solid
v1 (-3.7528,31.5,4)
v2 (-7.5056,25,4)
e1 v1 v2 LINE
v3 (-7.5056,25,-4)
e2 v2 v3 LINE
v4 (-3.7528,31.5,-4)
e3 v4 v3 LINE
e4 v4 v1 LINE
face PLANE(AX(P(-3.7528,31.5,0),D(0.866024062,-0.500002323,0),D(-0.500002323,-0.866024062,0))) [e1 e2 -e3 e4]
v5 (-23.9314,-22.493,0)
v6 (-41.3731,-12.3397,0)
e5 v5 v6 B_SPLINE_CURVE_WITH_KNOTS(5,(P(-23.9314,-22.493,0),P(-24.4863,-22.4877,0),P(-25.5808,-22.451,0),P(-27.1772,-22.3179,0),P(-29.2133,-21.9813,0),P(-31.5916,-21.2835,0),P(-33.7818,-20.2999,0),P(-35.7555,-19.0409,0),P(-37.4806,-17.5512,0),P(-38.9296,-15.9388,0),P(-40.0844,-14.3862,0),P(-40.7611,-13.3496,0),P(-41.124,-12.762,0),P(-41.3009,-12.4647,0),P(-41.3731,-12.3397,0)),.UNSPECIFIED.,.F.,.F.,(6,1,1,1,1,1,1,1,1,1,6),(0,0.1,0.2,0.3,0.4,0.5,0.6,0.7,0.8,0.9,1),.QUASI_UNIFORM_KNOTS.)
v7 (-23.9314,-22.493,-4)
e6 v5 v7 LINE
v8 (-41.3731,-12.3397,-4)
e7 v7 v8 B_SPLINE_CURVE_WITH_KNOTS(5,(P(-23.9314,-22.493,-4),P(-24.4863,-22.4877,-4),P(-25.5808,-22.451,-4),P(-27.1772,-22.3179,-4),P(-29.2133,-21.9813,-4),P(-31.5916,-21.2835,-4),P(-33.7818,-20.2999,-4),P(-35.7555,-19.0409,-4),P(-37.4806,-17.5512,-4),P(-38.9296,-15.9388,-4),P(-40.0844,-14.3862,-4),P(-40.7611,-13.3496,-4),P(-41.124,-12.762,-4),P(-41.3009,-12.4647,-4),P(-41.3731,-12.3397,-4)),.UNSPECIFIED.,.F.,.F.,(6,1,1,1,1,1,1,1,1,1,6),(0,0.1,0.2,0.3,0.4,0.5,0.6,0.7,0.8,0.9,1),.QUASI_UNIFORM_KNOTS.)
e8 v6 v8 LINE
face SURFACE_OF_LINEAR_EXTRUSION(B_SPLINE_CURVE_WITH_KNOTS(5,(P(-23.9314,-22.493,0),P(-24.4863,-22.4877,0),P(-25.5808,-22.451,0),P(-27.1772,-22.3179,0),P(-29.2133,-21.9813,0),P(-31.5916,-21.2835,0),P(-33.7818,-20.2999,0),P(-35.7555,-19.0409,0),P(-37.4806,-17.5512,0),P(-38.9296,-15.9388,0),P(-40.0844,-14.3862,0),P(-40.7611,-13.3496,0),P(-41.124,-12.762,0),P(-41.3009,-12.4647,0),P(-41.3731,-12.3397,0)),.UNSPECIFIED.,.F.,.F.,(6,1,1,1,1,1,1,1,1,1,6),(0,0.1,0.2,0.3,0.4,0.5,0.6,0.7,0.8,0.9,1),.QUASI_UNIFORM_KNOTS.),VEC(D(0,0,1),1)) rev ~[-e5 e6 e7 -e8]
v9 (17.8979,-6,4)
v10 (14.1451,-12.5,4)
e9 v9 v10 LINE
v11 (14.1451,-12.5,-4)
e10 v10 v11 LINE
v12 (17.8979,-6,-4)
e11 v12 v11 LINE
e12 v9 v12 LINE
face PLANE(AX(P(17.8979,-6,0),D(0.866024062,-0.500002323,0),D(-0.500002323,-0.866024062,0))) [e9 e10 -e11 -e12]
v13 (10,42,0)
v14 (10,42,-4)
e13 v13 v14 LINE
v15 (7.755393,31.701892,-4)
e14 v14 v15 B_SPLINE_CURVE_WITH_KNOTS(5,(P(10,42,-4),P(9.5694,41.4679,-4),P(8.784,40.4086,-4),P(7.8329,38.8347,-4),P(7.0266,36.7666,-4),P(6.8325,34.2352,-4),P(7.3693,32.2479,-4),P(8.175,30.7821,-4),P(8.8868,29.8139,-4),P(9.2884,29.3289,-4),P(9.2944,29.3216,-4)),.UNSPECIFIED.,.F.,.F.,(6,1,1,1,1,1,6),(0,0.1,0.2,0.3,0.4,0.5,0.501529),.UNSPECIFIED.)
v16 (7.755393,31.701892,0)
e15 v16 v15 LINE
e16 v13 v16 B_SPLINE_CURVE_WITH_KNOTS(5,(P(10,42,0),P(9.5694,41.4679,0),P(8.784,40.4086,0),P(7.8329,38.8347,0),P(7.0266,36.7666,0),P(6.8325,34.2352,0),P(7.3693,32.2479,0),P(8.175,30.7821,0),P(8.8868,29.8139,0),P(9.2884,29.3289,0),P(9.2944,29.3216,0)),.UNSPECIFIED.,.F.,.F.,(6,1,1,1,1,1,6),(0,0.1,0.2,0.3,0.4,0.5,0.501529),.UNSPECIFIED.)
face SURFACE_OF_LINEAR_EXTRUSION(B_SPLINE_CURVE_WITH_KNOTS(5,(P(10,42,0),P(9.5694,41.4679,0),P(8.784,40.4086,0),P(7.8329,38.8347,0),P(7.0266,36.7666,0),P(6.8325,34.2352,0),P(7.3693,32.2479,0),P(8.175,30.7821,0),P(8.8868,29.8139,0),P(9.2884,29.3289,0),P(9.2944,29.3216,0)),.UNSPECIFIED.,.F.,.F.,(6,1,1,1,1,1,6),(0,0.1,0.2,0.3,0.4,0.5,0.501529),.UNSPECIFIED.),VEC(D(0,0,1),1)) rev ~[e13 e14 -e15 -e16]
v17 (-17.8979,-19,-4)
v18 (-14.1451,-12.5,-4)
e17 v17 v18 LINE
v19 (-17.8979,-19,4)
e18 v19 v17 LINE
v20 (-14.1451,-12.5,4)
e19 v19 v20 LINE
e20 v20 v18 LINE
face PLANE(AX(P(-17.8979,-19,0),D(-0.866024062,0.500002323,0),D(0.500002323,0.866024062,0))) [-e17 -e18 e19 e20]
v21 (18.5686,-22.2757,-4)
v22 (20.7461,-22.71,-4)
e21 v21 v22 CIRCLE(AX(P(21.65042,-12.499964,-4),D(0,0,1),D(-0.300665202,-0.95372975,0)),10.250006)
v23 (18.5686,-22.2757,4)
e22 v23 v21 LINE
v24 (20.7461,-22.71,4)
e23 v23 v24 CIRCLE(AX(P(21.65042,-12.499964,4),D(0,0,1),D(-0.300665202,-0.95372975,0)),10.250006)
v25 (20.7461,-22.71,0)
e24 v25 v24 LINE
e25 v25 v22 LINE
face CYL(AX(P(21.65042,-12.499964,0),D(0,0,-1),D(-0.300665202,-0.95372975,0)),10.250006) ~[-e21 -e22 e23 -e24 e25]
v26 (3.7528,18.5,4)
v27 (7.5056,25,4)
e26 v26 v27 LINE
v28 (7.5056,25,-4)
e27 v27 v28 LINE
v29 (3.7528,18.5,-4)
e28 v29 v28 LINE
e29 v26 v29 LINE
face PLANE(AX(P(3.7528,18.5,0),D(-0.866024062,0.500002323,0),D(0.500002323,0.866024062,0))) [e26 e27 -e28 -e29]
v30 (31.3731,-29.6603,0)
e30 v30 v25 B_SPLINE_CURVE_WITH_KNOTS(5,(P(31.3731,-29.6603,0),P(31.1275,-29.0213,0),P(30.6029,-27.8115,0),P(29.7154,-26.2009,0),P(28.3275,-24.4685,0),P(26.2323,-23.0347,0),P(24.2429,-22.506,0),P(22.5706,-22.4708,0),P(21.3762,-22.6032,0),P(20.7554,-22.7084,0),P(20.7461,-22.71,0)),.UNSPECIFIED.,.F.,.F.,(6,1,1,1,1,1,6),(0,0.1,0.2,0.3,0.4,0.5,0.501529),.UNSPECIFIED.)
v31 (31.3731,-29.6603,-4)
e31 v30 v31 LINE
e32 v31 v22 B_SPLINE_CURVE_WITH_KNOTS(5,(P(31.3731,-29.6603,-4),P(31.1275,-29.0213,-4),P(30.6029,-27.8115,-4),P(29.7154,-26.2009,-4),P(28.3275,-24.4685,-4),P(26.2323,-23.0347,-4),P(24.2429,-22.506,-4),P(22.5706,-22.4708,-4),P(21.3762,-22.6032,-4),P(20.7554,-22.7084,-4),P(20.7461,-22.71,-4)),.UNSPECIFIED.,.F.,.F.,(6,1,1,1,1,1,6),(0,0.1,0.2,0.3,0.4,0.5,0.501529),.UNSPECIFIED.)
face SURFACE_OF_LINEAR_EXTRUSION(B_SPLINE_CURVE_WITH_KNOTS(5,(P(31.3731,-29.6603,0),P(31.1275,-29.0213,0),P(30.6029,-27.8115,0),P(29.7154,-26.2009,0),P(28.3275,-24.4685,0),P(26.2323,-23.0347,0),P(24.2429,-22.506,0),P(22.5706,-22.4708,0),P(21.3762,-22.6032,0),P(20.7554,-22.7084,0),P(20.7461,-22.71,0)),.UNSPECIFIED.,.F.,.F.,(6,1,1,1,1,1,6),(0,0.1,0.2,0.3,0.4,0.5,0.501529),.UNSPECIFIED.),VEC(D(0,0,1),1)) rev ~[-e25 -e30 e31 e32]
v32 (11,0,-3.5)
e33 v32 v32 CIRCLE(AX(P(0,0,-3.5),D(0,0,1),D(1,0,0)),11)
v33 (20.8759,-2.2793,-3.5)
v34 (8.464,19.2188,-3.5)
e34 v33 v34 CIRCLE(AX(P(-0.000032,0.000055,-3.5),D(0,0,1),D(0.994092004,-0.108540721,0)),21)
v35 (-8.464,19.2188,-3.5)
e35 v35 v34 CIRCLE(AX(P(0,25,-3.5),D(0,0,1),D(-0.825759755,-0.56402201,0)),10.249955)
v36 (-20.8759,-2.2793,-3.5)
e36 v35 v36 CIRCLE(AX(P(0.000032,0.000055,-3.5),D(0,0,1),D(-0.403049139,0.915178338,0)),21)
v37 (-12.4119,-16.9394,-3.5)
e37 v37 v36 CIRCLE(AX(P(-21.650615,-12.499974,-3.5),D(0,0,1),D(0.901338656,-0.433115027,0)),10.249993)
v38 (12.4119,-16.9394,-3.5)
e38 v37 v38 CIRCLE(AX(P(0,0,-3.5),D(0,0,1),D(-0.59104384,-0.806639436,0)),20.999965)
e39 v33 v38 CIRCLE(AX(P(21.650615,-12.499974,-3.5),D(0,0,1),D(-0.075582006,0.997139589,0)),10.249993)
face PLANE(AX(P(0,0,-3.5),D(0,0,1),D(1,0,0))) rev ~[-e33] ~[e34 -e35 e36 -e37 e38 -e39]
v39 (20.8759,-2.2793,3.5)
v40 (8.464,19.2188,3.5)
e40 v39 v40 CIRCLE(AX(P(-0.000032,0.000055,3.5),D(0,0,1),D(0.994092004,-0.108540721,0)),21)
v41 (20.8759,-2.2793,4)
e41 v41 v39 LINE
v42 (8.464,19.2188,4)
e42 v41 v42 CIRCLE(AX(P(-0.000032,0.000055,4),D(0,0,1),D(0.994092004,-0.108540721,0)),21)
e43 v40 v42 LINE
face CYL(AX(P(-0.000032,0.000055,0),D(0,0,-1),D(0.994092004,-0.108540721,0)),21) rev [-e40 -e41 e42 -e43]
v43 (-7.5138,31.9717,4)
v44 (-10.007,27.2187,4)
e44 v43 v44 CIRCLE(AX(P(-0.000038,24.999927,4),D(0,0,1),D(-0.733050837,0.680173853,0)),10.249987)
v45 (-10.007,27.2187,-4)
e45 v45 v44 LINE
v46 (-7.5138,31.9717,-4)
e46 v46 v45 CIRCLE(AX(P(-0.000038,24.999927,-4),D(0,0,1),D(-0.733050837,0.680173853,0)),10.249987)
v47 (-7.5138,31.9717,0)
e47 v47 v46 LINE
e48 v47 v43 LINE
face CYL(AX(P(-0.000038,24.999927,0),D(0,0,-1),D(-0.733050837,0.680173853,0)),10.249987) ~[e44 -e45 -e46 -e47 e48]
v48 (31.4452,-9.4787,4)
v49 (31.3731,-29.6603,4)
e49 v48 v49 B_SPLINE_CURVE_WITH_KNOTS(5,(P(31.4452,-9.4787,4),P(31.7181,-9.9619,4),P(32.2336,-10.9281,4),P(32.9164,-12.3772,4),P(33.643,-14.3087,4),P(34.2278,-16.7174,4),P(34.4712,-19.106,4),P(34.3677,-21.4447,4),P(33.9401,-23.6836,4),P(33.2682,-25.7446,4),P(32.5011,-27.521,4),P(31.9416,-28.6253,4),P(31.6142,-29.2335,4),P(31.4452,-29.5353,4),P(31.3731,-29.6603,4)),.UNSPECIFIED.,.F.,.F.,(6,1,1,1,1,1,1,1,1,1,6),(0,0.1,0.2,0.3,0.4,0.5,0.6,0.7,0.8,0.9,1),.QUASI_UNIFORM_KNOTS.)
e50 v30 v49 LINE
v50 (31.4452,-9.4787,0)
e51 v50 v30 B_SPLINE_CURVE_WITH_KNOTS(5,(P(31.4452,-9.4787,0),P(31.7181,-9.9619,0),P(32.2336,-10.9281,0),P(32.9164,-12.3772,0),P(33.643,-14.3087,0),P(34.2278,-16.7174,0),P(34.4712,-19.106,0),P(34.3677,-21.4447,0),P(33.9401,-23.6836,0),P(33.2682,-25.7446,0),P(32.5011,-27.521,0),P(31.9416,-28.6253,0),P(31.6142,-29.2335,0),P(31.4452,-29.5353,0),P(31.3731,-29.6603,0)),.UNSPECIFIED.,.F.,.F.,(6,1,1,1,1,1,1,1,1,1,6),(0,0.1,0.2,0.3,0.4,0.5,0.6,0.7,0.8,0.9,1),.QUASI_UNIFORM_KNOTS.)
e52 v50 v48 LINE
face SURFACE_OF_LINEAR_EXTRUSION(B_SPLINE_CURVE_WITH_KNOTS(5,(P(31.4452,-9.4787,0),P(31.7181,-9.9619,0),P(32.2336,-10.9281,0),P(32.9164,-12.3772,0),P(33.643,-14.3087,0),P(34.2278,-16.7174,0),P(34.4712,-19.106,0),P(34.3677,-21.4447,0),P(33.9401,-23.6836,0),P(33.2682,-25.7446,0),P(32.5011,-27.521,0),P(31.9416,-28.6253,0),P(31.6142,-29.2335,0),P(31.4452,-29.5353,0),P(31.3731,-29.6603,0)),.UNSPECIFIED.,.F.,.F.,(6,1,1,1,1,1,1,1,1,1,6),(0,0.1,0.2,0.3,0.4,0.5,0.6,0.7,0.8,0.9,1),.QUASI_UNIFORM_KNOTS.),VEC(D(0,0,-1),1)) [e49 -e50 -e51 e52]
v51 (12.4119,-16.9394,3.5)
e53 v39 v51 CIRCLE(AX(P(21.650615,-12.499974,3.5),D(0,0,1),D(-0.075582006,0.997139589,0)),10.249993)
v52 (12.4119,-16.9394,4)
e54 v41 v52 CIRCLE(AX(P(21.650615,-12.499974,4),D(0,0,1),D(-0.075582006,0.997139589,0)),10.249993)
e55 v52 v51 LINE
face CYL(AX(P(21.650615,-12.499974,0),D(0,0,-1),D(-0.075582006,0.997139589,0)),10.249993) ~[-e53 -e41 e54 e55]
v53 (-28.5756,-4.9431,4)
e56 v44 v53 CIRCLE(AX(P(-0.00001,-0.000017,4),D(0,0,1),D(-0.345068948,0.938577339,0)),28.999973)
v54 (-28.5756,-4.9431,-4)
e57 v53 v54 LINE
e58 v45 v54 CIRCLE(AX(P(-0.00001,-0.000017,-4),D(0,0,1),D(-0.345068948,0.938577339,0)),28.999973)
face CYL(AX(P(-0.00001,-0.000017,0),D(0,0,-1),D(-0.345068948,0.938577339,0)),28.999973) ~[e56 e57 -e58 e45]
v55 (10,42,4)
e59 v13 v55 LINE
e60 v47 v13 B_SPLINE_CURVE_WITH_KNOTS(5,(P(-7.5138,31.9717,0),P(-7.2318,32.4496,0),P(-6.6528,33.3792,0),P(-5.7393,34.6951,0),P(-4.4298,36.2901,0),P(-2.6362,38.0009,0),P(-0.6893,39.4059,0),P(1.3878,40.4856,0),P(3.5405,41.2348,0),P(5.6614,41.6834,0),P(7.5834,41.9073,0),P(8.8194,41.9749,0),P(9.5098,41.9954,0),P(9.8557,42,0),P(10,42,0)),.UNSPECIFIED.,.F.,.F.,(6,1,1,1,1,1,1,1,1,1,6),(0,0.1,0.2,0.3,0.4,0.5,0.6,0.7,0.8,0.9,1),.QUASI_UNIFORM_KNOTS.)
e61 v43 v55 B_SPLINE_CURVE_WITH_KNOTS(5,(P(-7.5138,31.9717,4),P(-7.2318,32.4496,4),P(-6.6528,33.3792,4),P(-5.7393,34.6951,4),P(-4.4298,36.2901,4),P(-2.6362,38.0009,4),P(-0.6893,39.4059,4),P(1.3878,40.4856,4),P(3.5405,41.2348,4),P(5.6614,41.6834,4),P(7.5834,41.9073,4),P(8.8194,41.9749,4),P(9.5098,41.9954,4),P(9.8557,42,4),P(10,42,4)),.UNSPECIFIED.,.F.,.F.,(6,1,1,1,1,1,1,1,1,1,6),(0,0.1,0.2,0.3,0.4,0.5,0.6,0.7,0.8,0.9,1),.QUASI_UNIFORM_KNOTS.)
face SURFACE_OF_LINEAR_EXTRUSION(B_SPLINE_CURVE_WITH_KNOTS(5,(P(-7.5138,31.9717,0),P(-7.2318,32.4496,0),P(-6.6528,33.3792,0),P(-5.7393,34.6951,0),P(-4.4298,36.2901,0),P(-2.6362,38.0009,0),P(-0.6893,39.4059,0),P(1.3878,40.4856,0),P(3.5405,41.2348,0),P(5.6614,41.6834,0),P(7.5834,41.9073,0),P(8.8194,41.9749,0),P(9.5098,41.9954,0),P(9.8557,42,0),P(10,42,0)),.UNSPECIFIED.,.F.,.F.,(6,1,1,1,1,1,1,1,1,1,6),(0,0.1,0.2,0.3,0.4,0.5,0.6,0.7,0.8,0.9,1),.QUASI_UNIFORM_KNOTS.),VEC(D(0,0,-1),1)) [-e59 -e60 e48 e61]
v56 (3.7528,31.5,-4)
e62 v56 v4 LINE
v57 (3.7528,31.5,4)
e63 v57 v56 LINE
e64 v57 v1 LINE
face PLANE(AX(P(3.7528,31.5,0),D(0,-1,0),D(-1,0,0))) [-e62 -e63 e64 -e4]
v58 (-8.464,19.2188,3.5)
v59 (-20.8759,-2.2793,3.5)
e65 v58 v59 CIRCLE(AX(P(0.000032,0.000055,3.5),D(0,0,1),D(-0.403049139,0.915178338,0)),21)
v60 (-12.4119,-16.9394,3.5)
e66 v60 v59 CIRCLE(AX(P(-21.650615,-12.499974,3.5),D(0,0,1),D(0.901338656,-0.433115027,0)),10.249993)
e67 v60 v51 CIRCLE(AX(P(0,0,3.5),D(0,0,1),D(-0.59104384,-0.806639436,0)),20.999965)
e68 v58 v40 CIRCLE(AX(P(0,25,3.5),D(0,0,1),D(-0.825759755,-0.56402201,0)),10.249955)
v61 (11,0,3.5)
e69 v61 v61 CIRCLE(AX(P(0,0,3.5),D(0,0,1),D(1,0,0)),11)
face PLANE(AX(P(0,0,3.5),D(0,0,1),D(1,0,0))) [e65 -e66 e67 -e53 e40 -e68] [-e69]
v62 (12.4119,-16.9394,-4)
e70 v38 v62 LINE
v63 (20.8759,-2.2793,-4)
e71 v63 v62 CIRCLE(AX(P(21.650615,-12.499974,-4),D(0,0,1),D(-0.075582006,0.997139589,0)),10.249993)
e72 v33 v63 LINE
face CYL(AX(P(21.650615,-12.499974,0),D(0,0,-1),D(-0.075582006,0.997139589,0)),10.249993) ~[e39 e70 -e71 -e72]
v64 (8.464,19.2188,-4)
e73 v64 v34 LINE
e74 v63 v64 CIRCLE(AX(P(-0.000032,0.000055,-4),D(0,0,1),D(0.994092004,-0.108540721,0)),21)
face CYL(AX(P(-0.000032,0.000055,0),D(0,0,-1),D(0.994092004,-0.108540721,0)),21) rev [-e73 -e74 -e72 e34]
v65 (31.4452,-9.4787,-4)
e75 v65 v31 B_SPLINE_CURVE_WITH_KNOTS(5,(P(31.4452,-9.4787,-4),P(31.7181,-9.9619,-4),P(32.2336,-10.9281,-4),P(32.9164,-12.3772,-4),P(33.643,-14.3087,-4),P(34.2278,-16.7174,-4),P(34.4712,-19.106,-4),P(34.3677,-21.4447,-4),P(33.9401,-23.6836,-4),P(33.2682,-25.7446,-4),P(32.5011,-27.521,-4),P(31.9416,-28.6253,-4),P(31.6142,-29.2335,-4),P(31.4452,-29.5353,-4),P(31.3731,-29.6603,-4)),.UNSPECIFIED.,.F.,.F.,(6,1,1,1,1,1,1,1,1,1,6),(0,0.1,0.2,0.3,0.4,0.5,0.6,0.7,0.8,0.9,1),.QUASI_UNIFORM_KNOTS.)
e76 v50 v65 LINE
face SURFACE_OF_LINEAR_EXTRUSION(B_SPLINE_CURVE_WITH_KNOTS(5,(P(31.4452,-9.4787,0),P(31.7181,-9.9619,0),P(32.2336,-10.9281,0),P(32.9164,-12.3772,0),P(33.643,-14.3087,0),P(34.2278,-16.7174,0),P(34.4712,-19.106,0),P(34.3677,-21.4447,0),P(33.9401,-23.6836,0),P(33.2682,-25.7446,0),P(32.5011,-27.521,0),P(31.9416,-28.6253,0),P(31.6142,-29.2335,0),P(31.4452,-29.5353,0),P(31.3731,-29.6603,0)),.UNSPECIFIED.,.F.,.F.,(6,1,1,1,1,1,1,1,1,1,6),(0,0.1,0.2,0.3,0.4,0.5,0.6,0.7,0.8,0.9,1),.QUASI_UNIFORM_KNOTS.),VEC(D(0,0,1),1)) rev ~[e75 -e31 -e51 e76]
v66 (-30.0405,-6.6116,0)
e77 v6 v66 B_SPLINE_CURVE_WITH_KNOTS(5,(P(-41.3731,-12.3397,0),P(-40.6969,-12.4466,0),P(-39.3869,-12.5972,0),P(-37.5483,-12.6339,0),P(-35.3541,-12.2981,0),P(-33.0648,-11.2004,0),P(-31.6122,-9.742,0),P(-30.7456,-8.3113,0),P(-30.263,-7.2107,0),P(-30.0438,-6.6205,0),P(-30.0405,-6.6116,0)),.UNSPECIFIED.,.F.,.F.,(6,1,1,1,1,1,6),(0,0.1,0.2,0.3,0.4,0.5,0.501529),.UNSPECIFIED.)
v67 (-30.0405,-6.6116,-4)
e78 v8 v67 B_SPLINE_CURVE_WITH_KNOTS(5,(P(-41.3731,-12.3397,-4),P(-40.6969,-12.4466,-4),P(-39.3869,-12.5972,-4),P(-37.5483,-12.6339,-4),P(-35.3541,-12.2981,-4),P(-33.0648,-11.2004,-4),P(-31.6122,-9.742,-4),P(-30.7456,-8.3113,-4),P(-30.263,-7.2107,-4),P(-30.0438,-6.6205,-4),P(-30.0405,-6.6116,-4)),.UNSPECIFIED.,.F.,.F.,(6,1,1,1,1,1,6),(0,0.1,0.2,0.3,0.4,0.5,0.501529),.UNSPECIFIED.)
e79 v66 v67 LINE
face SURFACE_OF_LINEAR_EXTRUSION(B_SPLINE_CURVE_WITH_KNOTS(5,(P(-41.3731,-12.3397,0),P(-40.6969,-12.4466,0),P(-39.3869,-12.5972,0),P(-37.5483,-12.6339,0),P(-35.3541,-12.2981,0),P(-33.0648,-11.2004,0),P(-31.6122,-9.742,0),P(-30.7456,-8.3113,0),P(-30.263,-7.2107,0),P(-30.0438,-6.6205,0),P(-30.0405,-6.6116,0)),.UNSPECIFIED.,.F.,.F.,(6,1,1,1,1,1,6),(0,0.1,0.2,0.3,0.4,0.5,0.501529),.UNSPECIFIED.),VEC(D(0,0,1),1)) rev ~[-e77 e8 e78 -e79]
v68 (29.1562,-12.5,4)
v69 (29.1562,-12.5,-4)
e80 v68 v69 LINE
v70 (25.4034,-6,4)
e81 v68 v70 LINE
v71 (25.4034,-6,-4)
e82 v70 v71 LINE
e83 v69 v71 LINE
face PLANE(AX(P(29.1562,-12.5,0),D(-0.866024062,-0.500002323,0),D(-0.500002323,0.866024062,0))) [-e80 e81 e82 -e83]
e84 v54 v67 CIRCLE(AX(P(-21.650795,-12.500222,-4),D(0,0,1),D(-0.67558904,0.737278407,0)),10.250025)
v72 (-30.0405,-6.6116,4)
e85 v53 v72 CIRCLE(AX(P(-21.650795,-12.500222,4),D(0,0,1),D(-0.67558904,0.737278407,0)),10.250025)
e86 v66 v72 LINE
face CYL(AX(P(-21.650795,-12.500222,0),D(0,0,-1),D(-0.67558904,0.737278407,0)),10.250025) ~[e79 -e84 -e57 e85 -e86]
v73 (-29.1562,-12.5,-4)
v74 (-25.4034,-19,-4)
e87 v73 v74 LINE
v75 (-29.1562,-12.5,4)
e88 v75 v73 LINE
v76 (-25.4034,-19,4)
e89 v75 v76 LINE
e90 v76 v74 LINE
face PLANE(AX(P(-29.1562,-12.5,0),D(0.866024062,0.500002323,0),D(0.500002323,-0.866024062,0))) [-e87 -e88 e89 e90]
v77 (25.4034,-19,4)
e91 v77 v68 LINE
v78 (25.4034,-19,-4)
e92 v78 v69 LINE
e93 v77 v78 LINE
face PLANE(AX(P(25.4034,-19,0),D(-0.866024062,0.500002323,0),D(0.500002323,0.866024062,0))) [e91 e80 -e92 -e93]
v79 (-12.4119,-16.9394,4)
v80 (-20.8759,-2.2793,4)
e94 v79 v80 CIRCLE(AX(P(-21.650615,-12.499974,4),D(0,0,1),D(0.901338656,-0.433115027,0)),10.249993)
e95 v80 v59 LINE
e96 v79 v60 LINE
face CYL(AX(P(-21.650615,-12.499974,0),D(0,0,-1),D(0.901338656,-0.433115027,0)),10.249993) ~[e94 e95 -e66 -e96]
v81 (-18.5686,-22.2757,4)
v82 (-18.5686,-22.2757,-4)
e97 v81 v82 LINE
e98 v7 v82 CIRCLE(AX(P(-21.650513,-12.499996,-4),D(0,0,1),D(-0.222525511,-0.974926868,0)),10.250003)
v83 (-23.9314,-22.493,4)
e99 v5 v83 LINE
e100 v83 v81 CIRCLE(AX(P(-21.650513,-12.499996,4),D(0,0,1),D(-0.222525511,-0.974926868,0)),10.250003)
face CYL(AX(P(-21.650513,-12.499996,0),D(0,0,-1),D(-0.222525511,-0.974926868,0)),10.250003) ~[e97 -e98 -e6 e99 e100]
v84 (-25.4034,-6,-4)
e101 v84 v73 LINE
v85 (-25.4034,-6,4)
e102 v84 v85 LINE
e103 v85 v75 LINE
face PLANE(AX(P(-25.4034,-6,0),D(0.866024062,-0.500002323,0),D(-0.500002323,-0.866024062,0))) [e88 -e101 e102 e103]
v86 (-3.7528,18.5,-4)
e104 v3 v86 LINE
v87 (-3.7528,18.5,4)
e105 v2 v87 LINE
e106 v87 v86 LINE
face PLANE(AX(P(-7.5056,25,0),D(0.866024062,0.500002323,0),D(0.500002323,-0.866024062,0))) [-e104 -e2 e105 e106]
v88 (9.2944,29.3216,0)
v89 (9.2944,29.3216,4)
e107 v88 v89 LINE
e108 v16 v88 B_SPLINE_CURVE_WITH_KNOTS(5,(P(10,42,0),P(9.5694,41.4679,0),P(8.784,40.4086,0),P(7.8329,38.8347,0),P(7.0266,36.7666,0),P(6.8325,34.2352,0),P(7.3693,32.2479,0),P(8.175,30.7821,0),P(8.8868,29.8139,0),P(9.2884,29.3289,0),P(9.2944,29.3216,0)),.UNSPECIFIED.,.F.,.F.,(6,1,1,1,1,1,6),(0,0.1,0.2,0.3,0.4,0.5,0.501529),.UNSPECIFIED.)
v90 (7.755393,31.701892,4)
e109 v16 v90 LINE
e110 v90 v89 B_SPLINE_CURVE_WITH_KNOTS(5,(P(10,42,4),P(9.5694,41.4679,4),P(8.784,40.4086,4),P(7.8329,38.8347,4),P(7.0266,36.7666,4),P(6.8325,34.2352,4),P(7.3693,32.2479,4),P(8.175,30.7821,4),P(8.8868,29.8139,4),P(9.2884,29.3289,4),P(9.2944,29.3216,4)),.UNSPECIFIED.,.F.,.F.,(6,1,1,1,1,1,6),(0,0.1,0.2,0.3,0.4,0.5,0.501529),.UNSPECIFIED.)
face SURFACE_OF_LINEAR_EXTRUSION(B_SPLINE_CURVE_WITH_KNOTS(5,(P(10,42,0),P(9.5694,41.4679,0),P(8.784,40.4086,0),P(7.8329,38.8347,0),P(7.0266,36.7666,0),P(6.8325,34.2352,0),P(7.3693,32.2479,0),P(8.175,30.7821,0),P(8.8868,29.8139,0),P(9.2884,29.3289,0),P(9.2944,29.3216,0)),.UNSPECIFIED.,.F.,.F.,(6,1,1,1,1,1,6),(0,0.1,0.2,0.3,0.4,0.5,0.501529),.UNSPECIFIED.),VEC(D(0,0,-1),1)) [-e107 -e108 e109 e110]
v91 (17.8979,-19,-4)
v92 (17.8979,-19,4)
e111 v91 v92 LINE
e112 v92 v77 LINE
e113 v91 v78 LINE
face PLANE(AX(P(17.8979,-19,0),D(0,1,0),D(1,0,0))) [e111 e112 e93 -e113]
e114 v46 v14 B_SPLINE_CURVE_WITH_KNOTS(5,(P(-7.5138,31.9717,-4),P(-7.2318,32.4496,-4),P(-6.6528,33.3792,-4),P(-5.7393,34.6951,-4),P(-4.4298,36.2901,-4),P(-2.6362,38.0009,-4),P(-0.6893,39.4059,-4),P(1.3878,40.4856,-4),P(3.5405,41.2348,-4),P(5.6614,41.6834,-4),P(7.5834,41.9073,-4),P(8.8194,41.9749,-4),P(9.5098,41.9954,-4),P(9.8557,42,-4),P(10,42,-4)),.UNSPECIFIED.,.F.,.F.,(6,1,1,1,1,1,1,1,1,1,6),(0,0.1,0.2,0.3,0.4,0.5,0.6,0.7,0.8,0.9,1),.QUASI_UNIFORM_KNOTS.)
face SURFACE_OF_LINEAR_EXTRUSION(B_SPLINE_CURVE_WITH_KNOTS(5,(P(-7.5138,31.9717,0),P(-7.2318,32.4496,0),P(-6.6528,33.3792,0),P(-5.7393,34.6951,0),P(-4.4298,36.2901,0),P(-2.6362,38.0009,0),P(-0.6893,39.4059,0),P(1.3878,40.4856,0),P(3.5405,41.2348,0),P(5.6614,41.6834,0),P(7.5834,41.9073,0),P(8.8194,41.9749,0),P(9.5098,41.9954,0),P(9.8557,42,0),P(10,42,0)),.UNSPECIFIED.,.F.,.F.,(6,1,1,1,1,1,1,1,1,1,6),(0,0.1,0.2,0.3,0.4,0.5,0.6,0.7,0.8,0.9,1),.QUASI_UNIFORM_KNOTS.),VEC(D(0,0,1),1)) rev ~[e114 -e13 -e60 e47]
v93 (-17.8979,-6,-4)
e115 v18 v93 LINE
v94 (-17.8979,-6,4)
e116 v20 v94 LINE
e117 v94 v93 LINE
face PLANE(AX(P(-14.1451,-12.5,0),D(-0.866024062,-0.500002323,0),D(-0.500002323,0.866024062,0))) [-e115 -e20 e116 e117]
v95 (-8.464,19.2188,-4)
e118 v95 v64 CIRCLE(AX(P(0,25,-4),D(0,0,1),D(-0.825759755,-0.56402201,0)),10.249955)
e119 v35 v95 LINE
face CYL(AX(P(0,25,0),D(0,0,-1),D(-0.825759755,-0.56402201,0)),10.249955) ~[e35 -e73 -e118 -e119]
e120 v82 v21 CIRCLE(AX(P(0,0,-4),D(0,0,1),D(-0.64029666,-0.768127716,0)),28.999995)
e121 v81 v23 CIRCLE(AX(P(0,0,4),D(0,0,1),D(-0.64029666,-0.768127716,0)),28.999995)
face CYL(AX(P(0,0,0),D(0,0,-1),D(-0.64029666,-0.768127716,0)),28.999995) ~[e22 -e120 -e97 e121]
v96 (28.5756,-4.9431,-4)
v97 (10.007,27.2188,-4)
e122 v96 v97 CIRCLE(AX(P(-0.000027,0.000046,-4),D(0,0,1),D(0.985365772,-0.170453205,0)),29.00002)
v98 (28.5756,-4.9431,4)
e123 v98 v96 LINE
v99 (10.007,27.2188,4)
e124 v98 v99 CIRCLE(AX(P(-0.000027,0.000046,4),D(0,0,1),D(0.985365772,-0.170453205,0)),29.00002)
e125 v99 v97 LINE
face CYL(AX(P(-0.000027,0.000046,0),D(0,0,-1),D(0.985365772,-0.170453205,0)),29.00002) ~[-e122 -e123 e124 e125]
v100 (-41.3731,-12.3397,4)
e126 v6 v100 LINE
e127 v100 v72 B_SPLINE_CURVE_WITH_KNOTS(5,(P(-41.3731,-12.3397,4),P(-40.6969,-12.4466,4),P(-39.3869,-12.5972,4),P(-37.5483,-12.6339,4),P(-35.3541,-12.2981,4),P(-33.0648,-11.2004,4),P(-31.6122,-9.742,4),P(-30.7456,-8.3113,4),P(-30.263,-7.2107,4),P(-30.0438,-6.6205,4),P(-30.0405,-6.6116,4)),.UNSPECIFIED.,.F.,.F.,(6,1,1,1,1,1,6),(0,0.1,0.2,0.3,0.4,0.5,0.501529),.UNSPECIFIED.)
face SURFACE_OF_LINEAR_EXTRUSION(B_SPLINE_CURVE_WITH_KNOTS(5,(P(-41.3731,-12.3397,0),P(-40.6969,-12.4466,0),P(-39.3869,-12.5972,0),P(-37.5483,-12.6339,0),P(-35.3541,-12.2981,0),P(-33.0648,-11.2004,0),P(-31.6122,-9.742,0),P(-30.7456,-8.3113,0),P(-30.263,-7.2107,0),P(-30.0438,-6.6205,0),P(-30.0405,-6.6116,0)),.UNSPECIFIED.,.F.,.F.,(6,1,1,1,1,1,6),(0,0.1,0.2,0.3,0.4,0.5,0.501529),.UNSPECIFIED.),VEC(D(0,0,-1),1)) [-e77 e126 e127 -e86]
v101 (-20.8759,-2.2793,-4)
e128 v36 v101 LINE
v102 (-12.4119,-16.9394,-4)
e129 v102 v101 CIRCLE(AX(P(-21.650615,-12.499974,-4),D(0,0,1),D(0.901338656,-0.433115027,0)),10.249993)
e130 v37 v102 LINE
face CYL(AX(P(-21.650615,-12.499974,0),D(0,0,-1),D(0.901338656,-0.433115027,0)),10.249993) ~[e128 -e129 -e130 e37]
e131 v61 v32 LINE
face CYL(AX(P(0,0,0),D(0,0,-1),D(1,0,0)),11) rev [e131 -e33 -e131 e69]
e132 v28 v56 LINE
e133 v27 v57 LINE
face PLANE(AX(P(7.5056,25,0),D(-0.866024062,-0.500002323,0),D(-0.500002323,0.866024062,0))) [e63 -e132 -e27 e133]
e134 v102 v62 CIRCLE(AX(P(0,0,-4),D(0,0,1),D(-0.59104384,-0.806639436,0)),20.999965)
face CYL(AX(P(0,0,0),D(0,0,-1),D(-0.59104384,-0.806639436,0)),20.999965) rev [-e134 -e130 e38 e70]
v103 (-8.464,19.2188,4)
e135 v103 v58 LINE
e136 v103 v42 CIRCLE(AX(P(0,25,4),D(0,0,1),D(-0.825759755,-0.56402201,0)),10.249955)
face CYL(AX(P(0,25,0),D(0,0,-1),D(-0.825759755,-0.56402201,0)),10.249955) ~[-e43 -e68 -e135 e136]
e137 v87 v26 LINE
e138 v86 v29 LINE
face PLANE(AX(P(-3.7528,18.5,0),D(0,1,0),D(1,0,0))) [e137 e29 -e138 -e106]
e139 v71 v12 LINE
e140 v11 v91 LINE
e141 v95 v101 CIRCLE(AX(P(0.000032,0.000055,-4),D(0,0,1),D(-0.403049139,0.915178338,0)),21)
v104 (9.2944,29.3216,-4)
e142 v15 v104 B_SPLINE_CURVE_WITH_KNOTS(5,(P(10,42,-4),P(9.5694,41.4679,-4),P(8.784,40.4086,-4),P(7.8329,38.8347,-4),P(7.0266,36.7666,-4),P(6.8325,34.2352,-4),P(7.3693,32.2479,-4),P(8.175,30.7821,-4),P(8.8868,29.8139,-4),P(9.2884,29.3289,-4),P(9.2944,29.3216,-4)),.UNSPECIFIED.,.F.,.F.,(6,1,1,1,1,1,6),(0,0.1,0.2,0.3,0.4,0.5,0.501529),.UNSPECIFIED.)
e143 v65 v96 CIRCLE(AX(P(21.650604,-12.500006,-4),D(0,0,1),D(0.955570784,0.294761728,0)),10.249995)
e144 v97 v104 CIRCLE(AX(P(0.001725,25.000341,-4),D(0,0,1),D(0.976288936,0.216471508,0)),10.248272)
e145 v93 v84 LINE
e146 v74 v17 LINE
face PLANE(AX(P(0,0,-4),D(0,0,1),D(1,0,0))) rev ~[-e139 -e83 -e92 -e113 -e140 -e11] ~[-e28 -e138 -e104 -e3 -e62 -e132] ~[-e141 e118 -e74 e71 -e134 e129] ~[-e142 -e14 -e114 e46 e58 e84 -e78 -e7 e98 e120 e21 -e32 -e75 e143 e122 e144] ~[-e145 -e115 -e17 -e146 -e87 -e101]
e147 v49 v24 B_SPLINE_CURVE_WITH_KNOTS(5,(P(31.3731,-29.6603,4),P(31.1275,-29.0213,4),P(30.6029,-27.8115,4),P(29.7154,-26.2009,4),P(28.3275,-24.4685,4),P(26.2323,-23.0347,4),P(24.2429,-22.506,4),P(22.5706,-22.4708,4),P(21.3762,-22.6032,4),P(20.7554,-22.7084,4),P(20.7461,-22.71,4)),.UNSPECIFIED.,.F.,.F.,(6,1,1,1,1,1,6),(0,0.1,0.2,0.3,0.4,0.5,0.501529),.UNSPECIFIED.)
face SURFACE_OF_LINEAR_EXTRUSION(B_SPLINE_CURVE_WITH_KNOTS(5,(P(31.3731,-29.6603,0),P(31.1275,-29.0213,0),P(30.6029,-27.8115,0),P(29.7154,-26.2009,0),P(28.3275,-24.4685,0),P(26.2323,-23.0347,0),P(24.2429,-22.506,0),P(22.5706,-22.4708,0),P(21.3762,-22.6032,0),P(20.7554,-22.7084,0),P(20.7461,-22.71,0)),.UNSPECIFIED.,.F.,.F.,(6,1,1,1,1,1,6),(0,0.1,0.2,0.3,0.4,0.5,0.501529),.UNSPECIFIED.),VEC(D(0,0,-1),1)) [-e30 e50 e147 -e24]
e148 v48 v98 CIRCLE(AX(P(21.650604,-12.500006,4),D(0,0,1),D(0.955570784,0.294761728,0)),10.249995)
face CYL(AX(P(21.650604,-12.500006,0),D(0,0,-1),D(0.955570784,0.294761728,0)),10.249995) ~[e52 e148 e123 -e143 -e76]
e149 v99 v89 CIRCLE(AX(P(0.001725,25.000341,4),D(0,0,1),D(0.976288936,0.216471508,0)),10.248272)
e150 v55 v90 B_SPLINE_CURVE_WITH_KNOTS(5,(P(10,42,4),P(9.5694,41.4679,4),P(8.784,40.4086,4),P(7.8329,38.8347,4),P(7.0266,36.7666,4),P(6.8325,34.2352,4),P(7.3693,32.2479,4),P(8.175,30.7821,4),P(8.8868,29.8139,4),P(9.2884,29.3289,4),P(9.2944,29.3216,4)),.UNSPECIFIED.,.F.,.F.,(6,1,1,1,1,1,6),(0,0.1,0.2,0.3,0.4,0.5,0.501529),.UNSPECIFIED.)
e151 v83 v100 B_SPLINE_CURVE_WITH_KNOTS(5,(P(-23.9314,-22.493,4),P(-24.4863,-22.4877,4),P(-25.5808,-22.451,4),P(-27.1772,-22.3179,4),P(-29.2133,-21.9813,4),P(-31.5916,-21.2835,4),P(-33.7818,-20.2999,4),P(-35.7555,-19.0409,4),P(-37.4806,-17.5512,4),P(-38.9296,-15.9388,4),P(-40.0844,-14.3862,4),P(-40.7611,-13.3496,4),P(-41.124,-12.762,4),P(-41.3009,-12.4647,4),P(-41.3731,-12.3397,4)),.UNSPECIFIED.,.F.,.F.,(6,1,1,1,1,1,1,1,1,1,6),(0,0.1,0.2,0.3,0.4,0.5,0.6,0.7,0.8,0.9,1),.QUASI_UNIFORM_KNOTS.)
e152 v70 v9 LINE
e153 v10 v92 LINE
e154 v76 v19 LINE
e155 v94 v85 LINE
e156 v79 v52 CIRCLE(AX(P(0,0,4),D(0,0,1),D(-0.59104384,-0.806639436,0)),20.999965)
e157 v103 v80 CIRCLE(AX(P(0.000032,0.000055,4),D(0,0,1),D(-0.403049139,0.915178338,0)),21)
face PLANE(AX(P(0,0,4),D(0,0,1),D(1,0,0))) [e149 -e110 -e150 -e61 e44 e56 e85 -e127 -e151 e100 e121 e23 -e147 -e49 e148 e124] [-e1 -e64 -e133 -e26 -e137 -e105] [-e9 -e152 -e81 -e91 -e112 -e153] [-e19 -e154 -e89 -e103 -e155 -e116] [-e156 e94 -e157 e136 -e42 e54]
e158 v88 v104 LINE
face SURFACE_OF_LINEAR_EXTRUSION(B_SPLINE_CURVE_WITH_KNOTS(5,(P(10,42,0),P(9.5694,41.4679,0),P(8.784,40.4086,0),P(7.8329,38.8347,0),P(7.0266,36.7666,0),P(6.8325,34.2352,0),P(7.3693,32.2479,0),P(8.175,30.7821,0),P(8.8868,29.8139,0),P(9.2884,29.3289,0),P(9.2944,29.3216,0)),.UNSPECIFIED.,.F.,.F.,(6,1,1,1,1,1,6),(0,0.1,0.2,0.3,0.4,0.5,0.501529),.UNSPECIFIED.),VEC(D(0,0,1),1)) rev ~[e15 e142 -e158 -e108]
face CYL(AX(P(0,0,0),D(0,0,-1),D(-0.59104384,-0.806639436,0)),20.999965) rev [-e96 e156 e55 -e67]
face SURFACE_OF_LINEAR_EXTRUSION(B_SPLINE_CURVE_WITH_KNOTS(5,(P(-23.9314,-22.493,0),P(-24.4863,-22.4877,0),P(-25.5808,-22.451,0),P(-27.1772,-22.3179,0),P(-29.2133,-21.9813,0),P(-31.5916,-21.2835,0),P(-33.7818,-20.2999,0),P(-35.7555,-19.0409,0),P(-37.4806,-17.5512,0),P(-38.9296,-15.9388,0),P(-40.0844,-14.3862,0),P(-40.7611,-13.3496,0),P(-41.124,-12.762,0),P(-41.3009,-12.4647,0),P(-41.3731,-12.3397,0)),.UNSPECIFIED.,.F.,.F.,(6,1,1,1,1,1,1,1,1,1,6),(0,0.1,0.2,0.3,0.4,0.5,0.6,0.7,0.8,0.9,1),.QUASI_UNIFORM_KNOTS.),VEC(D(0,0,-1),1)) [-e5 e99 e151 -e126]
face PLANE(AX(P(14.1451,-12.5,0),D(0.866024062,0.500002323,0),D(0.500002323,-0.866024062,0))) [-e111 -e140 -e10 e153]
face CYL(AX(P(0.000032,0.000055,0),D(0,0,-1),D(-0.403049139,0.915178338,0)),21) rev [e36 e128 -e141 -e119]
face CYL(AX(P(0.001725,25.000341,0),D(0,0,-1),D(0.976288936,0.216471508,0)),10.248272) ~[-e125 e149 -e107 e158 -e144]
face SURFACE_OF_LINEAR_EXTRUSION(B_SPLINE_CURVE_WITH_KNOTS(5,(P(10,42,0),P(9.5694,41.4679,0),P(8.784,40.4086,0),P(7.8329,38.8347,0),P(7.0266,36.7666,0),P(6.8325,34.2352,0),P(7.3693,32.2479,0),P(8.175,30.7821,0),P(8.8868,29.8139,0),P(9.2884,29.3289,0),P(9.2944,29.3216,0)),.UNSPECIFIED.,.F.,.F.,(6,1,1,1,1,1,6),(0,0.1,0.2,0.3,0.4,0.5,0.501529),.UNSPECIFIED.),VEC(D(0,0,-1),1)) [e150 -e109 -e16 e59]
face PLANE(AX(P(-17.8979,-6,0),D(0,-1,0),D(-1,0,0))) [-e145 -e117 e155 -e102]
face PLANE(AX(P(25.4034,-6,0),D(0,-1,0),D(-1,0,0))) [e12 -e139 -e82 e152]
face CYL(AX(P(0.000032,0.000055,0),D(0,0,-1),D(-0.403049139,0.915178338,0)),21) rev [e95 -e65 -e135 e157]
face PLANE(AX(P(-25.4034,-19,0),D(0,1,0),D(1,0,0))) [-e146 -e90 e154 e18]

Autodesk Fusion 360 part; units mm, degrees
sketch "Sketch1" plane through (0, 0, 0) normal (0, 0, 1) x (1, 0, 0) in component "Figet Spinner"
  circle A0 centre (0, 0) radius 25 construction
  line L0 (0, 0) -> (0, 37) construction
  line L1 (-3.7528, 31.5) -> (-7.5056, 25)
  line L2 (-7.5056, 25) -> (-3.7528, 18.5)
  line L3 (-3.7528, 18.5) -> (3.7528, 18.5)
  line L4 (3.7528, 18.5) -> (7.5056, 25)
  line L5 (7.5056, 25) -> (3.7528, 31.5)
  line L6 (3.7528, 31.5) -> (-3.7528, 31.5)
  spline S0 degree 5 poles (-7.5138, 31.9717) (-7.2318, 32.4496) (-6.6528, 33.3792) (-5.7393, 34.6951) (-4.4298, 36.2901) (-2.6362, 38.0009) (-0.6893, 39.4059) (1.3878, 40.4856) (3.5405, 41.2348) (5.6614, 41.6834) (7.5834, 41.9073) (8.8194, 41.9749) (9.5098, 41.9954) (9.8557, 42) (10, 42) knots 0 0 0 0 0 0 0.1 0.2 0.3 0.4 0.5 0.6 0.7 0.8 0.9 1 1 1 1 1 1
  line L7 (9, 42) -> (11, 42)
  spline S1 degree 5 poles (10, 42) (9.5694, 41.4679) (8.784, 40.4086) (7.8329, 38.8347) (7.0266, 36.7666) (6.8325, 34.2352) (7.3693, 32.2479) (8.175, 30.7821) (8.8868, 29.8139) (9.2884, 29.3289) (9.2944, 29.3216) knots 0 0 0 0 0 0 0.1 0.2 0.3 0.4 0.5 0.501529 0.501529 0.501529 0.501529 0.501529 0.501529
  line L8 (8.3624, 30.4454) -> (10.2264, 28.1979)
  circle A1 centre (0, 0) radius 11
  spline S2 degree 5 poles (-23.9314, -22.493) (-24.4863, -22.4877) (-25.5808, -22.451) (-27.1772, -22.3179) (-29.2133, -21.9813) (-31.5916, -21.2835) (-33.7818, -20.2999) (-35.7555, -19.0409) (-37.4806, -17.5512) (-38.9296, -15.9388) (-40.0844, -14.3862) (-40.7611, -13.3496) (-41.124, -12.762) (-41.3009, -12.4647) (-41.3731, -12.3397) knots 0 0 0 0 0 0 0.1 0.2 0.3 0.4 0.5 0.6 0.7 0.8 0.9 1 1 1 1 1 1
  spline S3 degree 5 poles (-41.3731, -12.3397) (-40.6969, -12.4466) (-39.3869, -12.5972) (-37.5483, -12.6339) (-35.3541, -12.2981) (-33.0648, -11.2004) (-31.6122, -9.742) (-30.7456, -8.3113) (-30.263, -7.2107) (-30.0438, -6.6205) (-30.0405, -6.6116) knots 0 0 0 0 0 0 0.1 0.2 0.3 0.4 0.5 0.501529 0.501529 0.501529 0.501529 0.501529 0.501529
  line L9 (-25.4034, -6) -> (-29.1562, -12.5)
  line L10 (-29.1562, -12.5) -> (-25.4034, -19)
  line L11 (-25.4034, -19) -> (-17.8979, -19)
  line L12 (-17.8979, -19) -> (-14.1451, -12.5)
  line L13 (-14.1451, -12.5) -> (-17.8979, -6)
  line L14 (-17.8979, -6) -> (-25.4034, -6)
  spline S4 degree 5 poles (31.4452, -9.4787) (31.7181, -9.9619) (32.2336, -10.9281) (32.9164, -12.3772) (33.643, -14.3087) (34.2278, -16.7174) (34.4712, -19.106) (34.3677, -21.4447) (33.9401, -23.6836) (33.2682, -25.7446) (32.5011, -27.521) (31.9416, -28.6253) (31.6142, -29.2335) (31.4452, -29.5353) (31.3731, -29.6603) knots 0 0 0 0 0 0 0.1 0.2 0.3 0.4 0.5 0.6 0.7 0.8 0.9 1 1 1 1 1 1
  spline S5 degree 5 poles (31.3731, -29.6603) (31.1275, -29.0213) (30.6029, -27.8115) (29.7154, -26.2009) (28.3275, -24.4685) (26.2323, -23.0347) (24.2429, -22.506) (22.5706, -22.4708) (21.3762, -22.6032) (20.7554, -22.7084) (20.7461, -22.71) knots 0 0 0 0 0 0 0.1 0.2 0.3 0.4 0.5 0.501529 0.501529 0.501529 0.501529 0.501529 0.501529
  line L15 (17.8979, -19) -> (25.4034, -19)
  line L16 (25.4034, -19) -> (29.1562, -12.5)
  line L17 (29.1562, -12.5) -> (25.4034, -6)
  line L18 (25.4034, -6) -> (17.8979, -6)
  line L19 (17.8979, -6) -> (14.1451, -12.5)
  line L20 (14.1451, -12.5) -> (17.8979, -19)
  arc A2 (-8.464, 19.2188) -> (-20.8759, -2.2793) centre (0, 0) ccw
  arc A3 (-12.4119, -16.9394) -> (12.4119, -16.9394) centre (0, 0) ccw
  arc A4 (20.8759, -2.2793) -> (8.464, 19.2188) centre (0, 0) ccw
  arc A5 (-18.5686, -22.2757) -> (18.5686, -22.2757) centre (0, 0) ccw
  arc A6 (28.5756, -4.9431) -> (10.007, 27.2188) centre (0, 0) ccw
  arc A7 (-8.464, 19.2188) -> (8.464, 19.2188) centre (0, 25) ccw
  arc A8 (-7.5138, 31.9717) -> (-10.007, 27.2187) centre (0, 25) ccw
  arc A9 (18.5686, -22.2757) -> (20.7461, -22.71) centre (21.6506, -12.5) ccw
  arc A10 (31.4452, -9.4787) -> (28.5756, -4.9431) centre (21.6506, -12.5) ccw
  arc A11 (20.8759, -2.2793) -> (12.4119, -16.9394) centre (21.6506, -12.5) ccw
  arc A12 (-10.007, 27.2187) -> (-28.5756, -4.9431) centre (0, 0) ccw
  arc A13 (-28.5756, -4.9431) -> (-30.0405, -6.6116) centre (-21.6506, -12.5) ccw
  arc A14 (-23.9314, -22.493) -> (-18.5686, -22.2757) centre (-21.6506, -12.5) ccw
  arc A15 (-12.4119, -16.9394) -> (-20.8759, -2.2793) centre (-21.6506, -12.5) ccw
  arc A16 (10.007, 27.2187) -> (9.2944, 29.3217) centre (0, 25) ccw
  arc A17 (7.7553, 31.702) -> (7.7553, 31.702) centre (0, 25) ccw
  point P0 (0, 25)
  point P1 (3, 41)
  point P2 (-37.007, -17.9019)
  point P3 (-31.3324, -9.1347)
  point P4 (34.007, -23.0981)
  point P5 (23.5771, -22.5673)
  dimension "d14" = 50
  dimension "d15" = 6.5
  dimension "d16" = 31.5
  dimension "d17" = 20.5
  dimension "d18" = 22
extrude "Extrude2" add sketch "Sketch1" along normal mid plane 8 contours S1 A7 A8 A16 A17 | S0 S1 A17 | S2 S3 S4 S5 A2 A3 A4 A5 A6 A9 A10 A11 A12 A13 A14 A15 A17 in component "Figet Spinner"
extrude "Extrude3" add sketch "Sketch1" along normal mid plane 7 contours A2 A3 A4 A7 A11 A15 A17 in component "Figet Spinner"
component "Figet Spinner" placed x (1, 0, 0) y (0, 1, 0) z (0, 0, 1) at (0, 0, 0)
